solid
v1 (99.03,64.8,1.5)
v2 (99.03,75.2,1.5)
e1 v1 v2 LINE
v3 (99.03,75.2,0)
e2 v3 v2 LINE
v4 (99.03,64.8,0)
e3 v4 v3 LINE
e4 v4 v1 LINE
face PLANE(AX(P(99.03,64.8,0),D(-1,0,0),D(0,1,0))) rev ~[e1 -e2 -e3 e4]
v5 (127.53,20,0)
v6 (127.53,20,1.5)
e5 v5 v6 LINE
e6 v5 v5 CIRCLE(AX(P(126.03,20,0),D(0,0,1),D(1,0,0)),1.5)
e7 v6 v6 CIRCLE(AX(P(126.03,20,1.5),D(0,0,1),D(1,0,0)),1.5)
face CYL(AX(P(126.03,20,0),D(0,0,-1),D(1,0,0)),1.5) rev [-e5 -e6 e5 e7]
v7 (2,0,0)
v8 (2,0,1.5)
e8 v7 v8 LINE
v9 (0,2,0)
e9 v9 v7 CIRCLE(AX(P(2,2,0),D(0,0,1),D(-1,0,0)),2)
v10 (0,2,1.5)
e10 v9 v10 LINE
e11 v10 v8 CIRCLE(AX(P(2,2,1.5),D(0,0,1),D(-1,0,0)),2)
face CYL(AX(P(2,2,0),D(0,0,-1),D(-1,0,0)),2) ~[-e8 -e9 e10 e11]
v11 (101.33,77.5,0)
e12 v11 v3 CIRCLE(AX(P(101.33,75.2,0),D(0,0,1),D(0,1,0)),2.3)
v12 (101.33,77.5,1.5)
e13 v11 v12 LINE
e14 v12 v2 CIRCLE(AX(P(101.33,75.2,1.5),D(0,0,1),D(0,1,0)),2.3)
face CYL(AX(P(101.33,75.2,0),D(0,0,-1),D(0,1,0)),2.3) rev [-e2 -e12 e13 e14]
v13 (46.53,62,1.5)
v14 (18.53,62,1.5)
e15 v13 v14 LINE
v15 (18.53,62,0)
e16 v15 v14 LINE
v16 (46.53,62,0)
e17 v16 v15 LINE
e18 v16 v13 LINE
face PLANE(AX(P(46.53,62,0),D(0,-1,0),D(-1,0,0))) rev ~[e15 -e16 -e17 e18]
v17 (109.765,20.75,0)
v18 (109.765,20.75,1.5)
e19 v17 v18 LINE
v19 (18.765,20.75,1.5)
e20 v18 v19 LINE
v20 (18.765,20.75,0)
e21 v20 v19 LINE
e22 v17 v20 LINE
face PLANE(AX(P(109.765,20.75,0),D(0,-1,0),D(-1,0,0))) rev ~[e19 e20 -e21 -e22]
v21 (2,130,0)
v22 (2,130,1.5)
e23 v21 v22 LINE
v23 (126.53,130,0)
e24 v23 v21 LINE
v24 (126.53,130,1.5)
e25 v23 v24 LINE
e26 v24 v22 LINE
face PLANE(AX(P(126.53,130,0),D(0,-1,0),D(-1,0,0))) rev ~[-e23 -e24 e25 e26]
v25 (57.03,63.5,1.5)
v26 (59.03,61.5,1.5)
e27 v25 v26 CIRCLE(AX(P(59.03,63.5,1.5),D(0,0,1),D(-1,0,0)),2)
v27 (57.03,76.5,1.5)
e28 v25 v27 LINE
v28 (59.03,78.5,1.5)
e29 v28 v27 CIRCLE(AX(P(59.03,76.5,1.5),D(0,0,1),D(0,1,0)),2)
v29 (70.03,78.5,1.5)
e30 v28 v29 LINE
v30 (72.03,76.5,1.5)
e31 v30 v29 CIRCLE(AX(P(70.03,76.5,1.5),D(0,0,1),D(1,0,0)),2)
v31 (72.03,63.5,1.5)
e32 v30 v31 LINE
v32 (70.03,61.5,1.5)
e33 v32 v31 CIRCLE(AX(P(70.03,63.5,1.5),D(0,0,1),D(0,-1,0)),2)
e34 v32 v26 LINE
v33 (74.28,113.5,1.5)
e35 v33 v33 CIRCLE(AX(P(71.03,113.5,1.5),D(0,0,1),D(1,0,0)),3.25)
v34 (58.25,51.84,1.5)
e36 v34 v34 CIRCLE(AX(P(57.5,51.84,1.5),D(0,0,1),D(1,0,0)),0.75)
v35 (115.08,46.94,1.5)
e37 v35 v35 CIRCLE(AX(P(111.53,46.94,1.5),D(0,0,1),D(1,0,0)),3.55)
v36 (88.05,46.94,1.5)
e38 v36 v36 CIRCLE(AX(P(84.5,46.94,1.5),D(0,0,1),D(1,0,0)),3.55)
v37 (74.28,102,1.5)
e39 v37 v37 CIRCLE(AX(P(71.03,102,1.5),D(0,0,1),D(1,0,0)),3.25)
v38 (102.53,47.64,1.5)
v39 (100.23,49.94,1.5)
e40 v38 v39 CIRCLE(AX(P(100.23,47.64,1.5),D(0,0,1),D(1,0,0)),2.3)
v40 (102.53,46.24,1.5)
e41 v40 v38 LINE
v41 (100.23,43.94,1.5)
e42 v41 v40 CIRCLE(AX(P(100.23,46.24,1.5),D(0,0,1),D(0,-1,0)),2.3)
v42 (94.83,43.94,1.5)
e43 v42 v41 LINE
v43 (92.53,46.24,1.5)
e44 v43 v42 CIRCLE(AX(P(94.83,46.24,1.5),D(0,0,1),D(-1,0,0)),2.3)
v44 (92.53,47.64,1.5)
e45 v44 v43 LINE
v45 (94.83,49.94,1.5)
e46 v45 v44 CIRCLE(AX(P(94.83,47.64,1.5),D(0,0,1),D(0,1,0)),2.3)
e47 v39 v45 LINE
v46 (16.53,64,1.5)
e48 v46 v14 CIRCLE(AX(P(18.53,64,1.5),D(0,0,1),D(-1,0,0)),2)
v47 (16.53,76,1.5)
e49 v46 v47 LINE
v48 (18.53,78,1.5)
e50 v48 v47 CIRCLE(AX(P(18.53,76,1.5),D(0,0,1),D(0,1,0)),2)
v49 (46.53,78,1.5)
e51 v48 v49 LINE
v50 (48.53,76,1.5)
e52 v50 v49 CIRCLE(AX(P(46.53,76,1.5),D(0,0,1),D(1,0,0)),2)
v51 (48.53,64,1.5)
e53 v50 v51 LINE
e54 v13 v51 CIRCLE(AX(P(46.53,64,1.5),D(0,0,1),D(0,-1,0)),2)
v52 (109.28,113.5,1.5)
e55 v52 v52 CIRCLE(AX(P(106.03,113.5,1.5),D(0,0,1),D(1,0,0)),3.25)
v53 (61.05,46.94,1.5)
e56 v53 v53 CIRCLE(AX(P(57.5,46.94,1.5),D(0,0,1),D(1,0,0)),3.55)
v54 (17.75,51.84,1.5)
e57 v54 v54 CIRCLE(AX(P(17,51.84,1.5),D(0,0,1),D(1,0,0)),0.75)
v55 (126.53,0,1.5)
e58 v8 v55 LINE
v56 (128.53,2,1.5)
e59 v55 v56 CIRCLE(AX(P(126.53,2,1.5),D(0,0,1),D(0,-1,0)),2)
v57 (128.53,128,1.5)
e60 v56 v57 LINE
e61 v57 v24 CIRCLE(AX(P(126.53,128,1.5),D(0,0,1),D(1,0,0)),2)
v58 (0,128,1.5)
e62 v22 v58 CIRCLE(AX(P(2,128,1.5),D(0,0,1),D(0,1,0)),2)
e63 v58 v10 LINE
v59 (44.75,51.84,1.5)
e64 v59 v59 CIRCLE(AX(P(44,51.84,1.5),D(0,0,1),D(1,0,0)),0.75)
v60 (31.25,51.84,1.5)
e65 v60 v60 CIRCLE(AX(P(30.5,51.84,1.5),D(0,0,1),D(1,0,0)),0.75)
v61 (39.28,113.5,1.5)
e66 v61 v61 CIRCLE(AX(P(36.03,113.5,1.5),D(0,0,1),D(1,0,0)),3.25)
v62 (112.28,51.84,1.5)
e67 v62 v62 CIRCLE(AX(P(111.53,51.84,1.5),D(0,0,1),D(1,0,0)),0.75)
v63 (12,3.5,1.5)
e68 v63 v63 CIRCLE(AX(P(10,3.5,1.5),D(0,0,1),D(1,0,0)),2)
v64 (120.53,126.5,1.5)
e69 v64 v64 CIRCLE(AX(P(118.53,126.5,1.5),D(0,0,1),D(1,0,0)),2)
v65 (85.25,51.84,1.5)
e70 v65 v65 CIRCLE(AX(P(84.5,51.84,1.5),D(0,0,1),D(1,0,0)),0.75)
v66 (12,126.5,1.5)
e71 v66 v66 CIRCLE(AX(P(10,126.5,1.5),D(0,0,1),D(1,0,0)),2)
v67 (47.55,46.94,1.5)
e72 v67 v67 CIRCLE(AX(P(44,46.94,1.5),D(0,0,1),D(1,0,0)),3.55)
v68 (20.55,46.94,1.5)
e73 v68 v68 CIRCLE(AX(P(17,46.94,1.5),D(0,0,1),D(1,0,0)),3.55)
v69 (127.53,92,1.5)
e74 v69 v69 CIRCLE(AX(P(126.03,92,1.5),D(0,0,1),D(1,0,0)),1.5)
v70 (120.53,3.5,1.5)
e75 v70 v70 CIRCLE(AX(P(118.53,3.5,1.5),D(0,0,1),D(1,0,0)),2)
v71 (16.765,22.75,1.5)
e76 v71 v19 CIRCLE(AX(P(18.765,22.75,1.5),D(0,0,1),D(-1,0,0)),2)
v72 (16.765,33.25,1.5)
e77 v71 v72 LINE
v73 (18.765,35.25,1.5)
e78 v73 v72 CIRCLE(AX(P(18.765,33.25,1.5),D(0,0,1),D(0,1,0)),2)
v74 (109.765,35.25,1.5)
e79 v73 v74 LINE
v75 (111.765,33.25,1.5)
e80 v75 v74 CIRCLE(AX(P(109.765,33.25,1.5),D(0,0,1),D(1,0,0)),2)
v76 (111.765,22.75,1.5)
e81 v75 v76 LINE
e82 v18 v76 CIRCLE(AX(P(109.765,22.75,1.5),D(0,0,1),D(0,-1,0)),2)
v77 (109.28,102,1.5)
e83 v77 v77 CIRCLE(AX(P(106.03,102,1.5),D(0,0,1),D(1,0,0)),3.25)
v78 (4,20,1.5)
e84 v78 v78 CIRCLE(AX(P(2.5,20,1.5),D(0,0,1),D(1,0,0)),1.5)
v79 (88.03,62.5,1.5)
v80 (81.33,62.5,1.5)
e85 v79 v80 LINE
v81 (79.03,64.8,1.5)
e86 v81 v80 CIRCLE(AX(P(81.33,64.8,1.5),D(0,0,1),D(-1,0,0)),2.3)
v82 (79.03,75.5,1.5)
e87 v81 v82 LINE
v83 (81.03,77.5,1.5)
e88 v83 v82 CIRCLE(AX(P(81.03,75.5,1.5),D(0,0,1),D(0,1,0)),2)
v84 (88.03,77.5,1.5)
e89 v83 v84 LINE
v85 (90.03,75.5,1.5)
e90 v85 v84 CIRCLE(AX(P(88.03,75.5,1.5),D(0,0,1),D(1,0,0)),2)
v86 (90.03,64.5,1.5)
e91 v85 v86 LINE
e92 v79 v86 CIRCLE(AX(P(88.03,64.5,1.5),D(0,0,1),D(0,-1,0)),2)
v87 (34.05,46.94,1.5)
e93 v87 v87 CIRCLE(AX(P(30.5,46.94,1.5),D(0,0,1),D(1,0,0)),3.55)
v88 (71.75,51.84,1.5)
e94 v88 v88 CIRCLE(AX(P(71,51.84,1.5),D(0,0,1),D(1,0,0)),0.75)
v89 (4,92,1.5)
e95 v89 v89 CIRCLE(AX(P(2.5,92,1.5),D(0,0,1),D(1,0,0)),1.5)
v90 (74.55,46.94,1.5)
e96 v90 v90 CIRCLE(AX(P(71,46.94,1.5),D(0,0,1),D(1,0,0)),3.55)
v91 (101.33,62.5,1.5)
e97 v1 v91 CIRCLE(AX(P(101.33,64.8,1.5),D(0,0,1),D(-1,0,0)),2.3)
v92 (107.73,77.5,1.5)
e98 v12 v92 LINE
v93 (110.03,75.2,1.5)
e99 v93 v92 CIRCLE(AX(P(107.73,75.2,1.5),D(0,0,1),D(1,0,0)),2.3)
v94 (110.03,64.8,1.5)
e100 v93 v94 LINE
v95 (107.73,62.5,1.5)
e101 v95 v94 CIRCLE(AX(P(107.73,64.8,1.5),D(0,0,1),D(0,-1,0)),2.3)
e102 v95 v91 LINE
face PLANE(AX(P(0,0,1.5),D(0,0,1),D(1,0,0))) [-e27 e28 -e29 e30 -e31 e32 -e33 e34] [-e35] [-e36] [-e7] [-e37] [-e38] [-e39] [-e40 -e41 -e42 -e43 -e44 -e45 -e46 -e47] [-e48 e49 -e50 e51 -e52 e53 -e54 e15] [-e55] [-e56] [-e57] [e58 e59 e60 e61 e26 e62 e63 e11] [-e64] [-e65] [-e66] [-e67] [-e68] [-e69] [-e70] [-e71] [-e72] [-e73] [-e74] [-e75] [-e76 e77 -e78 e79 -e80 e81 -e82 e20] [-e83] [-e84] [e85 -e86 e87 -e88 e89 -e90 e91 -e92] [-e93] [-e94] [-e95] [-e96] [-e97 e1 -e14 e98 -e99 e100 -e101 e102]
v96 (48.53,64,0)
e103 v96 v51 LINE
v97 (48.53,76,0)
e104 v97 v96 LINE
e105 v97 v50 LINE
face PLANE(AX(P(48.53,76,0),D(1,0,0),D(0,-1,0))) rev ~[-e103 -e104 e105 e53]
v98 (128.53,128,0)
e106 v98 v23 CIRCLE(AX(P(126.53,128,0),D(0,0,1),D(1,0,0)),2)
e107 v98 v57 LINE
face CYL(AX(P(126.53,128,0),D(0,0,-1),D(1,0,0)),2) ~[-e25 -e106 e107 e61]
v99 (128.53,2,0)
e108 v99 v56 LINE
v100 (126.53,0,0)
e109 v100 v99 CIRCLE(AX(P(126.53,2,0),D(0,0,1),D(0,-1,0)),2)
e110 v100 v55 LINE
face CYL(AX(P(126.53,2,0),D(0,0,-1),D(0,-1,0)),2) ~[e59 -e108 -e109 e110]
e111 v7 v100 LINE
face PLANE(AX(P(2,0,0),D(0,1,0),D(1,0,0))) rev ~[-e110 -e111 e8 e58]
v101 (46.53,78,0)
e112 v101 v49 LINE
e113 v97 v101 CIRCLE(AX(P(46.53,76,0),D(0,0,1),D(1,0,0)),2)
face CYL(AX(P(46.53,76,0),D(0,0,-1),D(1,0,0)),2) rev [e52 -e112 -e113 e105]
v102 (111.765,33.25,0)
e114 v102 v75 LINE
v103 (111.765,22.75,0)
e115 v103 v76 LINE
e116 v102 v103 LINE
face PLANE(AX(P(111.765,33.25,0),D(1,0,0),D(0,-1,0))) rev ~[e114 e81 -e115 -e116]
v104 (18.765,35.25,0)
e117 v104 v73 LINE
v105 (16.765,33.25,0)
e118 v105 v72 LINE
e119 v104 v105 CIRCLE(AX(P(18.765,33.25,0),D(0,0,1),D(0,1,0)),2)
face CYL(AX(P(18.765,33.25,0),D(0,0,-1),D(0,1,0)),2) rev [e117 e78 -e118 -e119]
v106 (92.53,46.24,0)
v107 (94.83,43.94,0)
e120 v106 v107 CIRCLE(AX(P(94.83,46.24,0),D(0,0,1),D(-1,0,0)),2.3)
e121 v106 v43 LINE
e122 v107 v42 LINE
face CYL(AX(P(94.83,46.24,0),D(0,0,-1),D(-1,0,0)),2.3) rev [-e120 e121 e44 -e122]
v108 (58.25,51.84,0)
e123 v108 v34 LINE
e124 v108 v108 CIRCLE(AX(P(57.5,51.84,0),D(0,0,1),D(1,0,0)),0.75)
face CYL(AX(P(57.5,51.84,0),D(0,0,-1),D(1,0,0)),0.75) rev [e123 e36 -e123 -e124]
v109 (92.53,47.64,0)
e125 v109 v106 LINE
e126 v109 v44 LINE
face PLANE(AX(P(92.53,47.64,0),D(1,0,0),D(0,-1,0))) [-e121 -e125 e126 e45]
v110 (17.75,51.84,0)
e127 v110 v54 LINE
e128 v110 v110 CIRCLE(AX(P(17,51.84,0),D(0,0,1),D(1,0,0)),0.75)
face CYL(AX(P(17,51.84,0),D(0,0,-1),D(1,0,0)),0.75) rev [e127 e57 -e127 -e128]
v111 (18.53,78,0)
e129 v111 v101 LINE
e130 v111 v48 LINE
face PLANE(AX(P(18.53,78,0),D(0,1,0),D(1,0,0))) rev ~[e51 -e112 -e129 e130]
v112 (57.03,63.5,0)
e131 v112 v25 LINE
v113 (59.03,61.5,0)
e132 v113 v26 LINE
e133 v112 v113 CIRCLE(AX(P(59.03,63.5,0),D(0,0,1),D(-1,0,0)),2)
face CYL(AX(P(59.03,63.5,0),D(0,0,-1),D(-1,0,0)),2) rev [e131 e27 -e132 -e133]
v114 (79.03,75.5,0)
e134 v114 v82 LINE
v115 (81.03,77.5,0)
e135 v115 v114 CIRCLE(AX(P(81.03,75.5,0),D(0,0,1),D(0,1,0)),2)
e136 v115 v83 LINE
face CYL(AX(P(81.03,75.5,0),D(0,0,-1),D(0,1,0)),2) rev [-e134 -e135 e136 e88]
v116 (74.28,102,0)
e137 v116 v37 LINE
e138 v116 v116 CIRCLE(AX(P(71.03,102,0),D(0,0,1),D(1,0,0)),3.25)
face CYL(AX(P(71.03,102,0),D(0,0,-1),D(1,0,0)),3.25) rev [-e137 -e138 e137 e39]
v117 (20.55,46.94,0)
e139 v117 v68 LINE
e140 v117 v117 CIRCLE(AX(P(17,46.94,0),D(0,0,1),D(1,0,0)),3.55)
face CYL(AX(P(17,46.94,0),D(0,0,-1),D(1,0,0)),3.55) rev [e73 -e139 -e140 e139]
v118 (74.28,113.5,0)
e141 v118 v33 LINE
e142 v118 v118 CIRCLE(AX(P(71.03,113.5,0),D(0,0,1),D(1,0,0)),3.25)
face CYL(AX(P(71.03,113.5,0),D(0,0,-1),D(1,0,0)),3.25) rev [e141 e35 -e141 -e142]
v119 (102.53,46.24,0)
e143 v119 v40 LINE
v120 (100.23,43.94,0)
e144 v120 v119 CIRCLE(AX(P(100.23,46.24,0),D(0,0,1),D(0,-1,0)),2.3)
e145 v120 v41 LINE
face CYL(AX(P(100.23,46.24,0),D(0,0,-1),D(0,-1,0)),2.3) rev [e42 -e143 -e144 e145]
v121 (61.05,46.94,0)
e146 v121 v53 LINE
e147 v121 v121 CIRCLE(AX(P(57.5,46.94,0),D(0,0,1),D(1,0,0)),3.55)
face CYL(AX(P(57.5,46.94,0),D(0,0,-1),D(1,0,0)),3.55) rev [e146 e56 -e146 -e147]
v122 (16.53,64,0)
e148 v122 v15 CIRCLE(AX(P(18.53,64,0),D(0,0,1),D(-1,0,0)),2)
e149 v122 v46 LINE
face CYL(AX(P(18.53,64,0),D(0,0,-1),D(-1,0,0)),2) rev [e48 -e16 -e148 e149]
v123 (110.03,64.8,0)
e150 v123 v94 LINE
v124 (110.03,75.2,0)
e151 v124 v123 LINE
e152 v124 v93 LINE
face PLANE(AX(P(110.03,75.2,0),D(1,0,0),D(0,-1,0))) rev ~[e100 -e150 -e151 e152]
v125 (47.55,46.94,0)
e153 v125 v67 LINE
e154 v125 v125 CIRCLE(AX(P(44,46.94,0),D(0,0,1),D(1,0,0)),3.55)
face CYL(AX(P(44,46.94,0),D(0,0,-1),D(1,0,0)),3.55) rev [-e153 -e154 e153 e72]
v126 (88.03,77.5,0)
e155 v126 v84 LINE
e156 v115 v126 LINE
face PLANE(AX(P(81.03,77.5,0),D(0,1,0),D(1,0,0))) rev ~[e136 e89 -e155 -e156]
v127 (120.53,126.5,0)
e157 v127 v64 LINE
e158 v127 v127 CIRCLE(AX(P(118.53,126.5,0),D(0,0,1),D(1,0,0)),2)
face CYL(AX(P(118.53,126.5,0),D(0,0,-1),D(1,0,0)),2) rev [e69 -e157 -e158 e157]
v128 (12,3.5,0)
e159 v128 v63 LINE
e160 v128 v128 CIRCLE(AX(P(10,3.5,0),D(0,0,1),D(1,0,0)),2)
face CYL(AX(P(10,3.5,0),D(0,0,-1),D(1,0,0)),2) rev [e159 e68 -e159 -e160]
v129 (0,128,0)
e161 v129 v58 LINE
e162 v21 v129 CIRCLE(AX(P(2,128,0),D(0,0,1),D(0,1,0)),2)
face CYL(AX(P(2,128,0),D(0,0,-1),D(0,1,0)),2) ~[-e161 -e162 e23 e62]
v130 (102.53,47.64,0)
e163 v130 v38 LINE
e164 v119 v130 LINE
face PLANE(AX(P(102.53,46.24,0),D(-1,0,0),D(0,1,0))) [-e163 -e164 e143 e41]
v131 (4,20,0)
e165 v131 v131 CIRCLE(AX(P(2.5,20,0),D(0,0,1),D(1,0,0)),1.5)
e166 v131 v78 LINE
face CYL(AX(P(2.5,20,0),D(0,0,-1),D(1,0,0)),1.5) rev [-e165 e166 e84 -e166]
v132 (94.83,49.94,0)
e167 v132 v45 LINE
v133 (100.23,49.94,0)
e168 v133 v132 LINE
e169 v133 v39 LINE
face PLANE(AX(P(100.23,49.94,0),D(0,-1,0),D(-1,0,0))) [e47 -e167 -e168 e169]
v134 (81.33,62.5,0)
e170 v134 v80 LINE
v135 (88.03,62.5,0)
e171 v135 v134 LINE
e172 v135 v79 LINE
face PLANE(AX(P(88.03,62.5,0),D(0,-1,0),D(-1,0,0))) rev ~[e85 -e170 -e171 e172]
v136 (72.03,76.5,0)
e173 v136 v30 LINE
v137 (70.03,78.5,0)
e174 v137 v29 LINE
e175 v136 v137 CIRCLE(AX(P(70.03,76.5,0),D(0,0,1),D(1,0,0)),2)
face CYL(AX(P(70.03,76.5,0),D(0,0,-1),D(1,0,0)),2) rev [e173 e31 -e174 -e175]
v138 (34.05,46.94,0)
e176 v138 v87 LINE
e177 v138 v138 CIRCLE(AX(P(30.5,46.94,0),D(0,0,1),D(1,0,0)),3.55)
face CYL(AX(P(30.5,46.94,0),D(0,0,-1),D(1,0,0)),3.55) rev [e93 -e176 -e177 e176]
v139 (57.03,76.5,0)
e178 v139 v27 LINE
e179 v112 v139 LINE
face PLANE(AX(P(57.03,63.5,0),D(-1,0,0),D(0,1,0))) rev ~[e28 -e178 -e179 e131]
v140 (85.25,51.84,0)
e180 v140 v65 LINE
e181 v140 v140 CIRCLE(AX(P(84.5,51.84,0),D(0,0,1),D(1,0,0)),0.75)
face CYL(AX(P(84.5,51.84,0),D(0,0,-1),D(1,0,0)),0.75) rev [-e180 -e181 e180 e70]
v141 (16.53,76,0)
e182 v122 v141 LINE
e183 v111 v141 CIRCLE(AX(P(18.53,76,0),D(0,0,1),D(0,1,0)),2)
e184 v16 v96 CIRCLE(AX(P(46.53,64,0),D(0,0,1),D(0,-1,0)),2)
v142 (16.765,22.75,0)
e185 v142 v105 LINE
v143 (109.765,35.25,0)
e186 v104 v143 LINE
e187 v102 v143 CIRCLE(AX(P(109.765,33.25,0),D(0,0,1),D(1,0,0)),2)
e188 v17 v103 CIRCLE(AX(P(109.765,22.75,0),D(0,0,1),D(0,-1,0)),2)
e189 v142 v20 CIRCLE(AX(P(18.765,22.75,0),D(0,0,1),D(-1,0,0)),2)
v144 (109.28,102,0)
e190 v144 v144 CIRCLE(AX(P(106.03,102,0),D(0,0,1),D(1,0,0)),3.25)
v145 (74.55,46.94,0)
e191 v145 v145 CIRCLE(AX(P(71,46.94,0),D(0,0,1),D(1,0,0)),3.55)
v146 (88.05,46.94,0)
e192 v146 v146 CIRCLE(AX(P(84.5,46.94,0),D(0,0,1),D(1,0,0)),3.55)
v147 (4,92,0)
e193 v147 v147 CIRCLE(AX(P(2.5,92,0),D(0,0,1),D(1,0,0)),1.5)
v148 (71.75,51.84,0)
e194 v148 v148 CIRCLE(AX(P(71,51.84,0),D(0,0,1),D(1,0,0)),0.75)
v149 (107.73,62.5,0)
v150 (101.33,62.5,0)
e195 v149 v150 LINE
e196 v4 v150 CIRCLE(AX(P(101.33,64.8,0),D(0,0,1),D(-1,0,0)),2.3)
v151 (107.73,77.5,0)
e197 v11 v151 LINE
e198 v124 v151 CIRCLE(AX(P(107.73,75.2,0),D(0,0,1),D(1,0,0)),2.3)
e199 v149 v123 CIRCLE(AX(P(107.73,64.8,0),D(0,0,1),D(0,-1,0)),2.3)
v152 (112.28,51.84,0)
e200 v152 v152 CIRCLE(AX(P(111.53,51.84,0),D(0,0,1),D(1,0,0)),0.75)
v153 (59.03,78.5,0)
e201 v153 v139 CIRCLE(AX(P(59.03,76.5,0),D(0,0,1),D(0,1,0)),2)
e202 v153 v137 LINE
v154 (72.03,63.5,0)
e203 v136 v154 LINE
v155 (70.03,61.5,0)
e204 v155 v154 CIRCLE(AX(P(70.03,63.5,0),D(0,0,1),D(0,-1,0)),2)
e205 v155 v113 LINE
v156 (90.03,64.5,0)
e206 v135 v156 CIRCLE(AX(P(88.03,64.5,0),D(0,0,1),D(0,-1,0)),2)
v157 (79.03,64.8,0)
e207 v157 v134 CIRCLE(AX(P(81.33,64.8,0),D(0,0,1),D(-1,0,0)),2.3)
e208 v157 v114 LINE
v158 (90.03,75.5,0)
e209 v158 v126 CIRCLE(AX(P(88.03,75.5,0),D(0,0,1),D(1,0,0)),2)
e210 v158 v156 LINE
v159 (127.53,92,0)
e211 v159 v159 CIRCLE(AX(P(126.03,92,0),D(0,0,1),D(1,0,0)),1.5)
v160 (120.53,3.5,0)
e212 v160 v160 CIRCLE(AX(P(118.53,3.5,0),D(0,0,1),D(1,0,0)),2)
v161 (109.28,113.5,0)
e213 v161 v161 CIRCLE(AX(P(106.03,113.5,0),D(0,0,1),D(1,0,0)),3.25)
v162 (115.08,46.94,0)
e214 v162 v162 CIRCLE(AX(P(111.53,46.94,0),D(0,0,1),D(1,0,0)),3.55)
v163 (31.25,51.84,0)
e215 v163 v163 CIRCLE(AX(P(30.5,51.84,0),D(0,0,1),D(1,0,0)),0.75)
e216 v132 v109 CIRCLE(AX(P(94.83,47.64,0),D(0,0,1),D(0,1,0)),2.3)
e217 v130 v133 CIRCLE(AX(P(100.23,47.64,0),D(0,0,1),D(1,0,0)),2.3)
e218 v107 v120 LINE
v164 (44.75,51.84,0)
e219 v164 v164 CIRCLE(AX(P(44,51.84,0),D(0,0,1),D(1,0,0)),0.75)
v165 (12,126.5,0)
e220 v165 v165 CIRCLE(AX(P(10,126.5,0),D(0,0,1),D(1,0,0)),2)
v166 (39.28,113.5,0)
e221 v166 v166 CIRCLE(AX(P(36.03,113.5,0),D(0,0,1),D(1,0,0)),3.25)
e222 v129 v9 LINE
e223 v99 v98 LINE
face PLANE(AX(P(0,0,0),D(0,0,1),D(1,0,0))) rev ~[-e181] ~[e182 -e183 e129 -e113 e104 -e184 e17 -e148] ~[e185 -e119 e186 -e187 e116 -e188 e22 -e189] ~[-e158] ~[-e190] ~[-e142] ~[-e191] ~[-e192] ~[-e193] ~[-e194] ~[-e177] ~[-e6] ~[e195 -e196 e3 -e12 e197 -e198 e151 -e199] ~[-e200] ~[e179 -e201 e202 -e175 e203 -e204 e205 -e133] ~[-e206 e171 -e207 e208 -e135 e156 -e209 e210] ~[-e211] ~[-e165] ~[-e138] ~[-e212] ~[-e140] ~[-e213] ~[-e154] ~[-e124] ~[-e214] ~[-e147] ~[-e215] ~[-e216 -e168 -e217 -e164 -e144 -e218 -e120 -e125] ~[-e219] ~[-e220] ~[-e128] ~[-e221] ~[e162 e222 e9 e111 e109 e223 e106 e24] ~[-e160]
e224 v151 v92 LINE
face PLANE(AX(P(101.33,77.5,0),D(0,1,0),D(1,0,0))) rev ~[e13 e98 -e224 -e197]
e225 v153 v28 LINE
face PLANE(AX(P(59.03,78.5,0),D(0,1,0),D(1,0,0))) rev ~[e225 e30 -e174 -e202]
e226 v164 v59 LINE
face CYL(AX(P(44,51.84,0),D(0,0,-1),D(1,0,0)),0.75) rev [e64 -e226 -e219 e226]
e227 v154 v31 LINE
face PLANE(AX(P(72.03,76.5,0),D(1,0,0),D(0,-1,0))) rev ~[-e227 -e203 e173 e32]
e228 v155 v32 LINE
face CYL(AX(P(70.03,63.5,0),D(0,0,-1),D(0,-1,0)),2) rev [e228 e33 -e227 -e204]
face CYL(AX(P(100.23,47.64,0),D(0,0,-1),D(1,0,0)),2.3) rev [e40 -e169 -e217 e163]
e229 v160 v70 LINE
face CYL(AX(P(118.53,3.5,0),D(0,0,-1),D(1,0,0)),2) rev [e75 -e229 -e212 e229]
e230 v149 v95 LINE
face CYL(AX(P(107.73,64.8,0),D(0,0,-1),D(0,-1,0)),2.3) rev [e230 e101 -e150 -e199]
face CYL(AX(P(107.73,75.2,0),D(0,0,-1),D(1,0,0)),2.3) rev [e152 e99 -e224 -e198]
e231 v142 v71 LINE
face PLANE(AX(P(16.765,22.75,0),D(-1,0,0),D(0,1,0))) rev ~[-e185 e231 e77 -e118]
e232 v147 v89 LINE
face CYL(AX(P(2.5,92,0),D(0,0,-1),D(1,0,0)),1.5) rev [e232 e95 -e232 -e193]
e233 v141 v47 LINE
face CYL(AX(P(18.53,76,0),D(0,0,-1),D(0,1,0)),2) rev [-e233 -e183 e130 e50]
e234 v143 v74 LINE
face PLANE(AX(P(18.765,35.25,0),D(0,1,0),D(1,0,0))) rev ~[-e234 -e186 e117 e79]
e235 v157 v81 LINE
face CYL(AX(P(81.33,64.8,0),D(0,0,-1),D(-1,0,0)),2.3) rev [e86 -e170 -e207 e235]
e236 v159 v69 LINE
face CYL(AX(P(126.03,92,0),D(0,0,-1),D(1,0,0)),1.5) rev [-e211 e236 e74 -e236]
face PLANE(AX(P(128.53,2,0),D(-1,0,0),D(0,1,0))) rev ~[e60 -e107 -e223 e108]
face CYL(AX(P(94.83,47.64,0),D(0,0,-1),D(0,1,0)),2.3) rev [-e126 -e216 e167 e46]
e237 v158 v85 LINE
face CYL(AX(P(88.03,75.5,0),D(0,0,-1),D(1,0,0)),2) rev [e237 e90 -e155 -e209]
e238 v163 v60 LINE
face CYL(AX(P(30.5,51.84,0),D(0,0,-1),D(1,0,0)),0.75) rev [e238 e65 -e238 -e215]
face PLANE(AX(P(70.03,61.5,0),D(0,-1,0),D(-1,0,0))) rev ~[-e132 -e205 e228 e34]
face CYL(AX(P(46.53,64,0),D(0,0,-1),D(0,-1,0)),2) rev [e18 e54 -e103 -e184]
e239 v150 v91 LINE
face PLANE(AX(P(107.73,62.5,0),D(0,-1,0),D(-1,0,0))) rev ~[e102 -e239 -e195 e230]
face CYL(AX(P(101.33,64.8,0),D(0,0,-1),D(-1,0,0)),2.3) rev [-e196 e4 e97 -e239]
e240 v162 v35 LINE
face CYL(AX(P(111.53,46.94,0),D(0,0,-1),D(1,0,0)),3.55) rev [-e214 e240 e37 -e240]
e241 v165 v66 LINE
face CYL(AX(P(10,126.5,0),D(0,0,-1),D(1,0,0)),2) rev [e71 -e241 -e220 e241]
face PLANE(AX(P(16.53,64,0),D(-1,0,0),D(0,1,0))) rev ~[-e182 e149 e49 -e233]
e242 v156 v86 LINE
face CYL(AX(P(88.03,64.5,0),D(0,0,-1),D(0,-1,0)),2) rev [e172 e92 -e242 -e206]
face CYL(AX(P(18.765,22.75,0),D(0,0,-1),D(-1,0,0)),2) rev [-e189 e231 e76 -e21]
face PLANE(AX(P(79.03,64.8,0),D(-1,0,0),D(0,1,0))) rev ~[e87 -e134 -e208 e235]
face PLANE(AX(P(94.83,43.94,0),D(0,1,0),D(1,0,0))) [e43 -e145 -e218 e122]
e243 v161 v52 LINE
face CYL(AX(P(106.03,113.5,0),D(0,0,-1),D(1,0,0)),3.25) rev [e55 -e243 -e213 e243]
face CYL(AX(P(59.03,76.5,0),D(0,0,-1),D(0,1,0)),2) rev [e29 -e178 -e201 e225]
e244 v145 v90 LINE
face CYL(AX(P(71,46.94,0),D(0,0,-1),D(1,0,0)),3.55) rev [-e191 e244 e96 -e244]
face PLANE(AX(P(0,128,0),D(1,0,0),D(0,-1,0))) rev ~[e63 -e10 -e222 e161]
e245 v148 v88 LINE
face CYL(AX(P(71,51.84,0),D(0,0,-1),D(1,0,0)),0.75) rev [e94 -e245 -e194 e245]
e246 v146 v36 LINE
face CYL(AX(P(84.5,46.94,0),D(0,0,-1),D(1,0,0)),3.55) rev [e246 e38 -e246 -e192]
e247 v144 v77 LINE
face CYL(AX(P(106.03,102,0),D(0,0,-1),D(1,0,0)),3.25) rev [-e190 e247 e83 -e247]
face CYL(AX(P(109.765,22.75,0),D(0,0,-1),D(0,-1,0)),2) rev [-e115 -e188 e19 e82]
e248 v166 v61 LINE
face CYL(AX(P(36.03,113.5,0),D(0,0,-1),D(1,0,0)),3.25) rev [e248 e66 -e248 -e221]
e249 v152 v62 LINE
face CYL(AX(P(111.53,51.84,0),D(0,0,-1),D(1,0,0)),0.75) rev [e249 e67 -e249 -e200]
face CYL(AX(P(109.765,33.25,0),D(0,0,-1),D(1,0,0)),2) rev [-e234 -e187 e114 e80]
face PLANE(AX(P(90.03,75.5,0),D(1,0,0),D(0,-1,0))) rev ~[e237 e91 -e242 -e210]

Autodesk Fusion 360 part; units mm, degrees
sketch "Sketch1" plane through (0, 0, 0) normal (0, 0, 1) x (1, 0, 0)
  line L0 (2, 0) -> (126.53, 0)
  line L1 (128.53, 2) -> (128.53, 128)
  line L2 (126.53, 130) -> (2, 130)
  line L3 (0, 128) -> (0, 2)
  line L4 (0, 70) -> (128.53, 70) construction
  line L5 (0, 46.94) -> (128.53, 46.94) construction
  line L6 (0, 92) -> (128.53, 92) construction
  line L7 (0, 20) -> (128.53, 20) construction
  line L8 (2.5, 130) -> (2.5, 0) construction
  line L9 (126.03, 130) -> (126.03, 0) construction
  circle A0 centre (71, 46.94) radius 3.55
  circle A1 centre (17, 46.94) radius 3.55
  circle A2 centre (84.5, 46.94) radius 3.55
  circle A3 centre (30.5, 46.94) radius 3.55
  circle A4 centre (111.53, 46.94) radius 3.55
  circle A5 centre (44, 46.94) radius 3.55
  circle A6 centre (57.5, 46.94) radius 3.55
  circle A7 centre (126.03, 92) radius 1.5
  circle A8 centre (2.5, 92) radius 1.5
  circle A9 centre (2.5, 20) radius 1.5
  circle A10 centre (126.03, 20) radius 1.5
  line L10 (107.73, 62.5) -> (101.33, 62.5)
  line L11 (99.03, 64.8) -> (99.03, 75.2)
  line L12 (101.33, 77.5) -> (107.73, 77.5)
  line L13 (110.03, 75.2) -> (110.03, 64.8)
  line L14 (110.03, 62.5) -> (99.03, 77.5) construction
  line L15 (99.03, 62.5) -> (110.03, 77.5) construction
  line L16 (88.03, 62.5) -> (81.33, 62.5)
  line L17 (79.03, 64.8) -> (79.03, 75.5)
  line L18 (81.03, 77.5) -> (88.03, 77.5)
  line L19 (90.03, 75.5) -> (90.03, 64.5)
  line L20 (90.03, 62.5) -> (79.03, 77.5) construction
  line L21 (79.03, 62.5) -> (90.03, 77.5) construction
  line L22 (70.03, 61.5) -> (59.03, 61.5)
  line L23 (57.03, 63.5) -> (57.03, 76.5)
  line L24 (59.03, 78.5) -> (70.03, 78.5)
  line L25 (72.03, 76.5) -> (72.03, 63.5)
  line L26 (72.03, 61.5) -> (57.03, 78.5) construction
  line L27 (57.03, 61.5) -> (72.03, 78.5) construction
  line L28 (46.53, 62) -> (18.53, 62)
  line L29 (16.53, 64) -> (16.53, 76)
  line L30 (18.53, 78) -> (46.53, 78)
  line L31 (48.53, 76) -> (48.53, 64)
  line L32 (48.53, 62) -> (16.53, 78) construction
  line L33 (16.53, 62) -> (48.53, 78) construction
  line L34 (100.23, 49.94) -> (94.83, 49.94)
  line L35 (92.53, 47.64) -> (92.53, 46.24)
  line L36 (94.83, 43.94) -> (100.23, 43.94)
  line L37 (102.53, 46.24) -> (102.53, 47.64)
  line L38 (102.53, 49.94) -> (92.53, 43.94) construction
  line L39 (92.53, 49.94) -> (102.53, 43.94) construction
  arc A11 (2, 130) -> (0, 128) centre (2, 128) ccw
  arc A12 (128.53, 128) -> (126.53, 130) centre (126.53, 128) ccw
  arc A13 (126.53, 0) -> (128.53, 2) centre (126.53, 2) ccw
  arc A14 (0, 2) -> (2, 0) centre (2, 2) ccw
  arc A15 (18.53, 78) -> (16.53, 76) centre (18.53, 76) ccw
  arc A16 (46.53, 62) -> (48.53, 64) centre (46.53, 64) ccw
  arc A17 (16.53, 64) -> (18.53, 62) centre (18.53, 64) ccw
  arc A18 (48.53, 76) -> (46.53, 78) centre (46.53, 76) ccw
  arc A19 (59.03, 78.5) -> (57.03, 76.5) centre (59.03, 76.5) ccw
  arc A20 (72.03, 76.5) -> (70.03, 78.5) centre (70.03, 76.5) ccw
  arc A21 (70.03, 61.5) -> (72.03, 63.5) centre (70.03, 63.5) ccw
  arc A22 (57.03, 63.5) -> (59.03, 61.5) centre (59.03, 63.5) ccw
  arc A23 (81.03, 77.5) -> (79.03, 75.5) centre (81.03, 75.5) ccw
  arc A24 (90.03, 75.5) -> (88.03, 77.5) centre (88.03, 75.5) ccw
  arc A25 (88.03, 62.5) -> (90.03, 64.5) centre (88.03, 64.5) ccw
  arc A26 (79.03, 64.8) -> (81.33, 62.5) centre (81.33, 64.8) ccw
  arc A27 (101.33, 77.5) -> (99.03, 75.2) centre (101.33, 75.2) ccw
  arc A28 (110.03, 75.2) -> (107.73, 77.5) centre (107.73, 75.2) ccw
  arc A29 (107.73, 62.5) -> (110.03, 64.8) centre (107.73, 64.8) ccw
  arc A30 (99.03, 64.8) -> (101.33, 62.5) centre (101.33, 64.8) ccw
  arc A31 (94.83, 49.94) -> (92.53, 47.64) centre (94.83, 47.64) ccw
  arc A32 (102.53, 47.64) -> (100.23, 49.94) centre (100.23, 47.64) ccw
  arc A33 (92.53, 46.24) -> (94.83, 43.94) centre (94.83, 46.24) ccw
  arc A34 (100.23, 43.94) -> (102.53, 46.24) centre (100.23, 46.24) ccw
  line L40 (0, 126.5) -> (128.53, 126.5) construction
  line L41 (0, 3.5) -> (128.53, 3.5) construction
  line L42 (118.53, 130) -> (118.53, 0) construction
  line L43 (10, 130) -> (10, 0) construction
  circle A35 centre (10, 126.5) radius 2
  circle A36 centre (118.53, 126.5) radius 2
  circle A37 centre (10, 3.5) radius 2
  circle A38 centre (118.53, 3.5) radius 2
  line L44 (0, 28) -> (128.53, 28) construction
  line L45 (109.765, 20.75) -> (18.765, 20.75)
  line L46 (16.765, 22.75) -> (16.765, 33.25)
  line L47 (18.765, 35.25) -> (109.765, 35.25)
  line L48 (111.765, 33.25) -> (111.765, 22.75)
  line L49 (111.765, 20.75) -> (16.765, 35.25) construction
  line L50 (16.765, 20.75) -> (111.765, 35.25) construction
  arc A39 (18.765, 35.25) -> (16.765, 33.25) centre (18.765, 33.25) ccw
  arc A40 (111.765, 33.25) -> (109.765, 35.25) centre (109.765, 33.25) ccw
  arc A41 (16.765, 22.75) -> (18.765, 20.75) centre (18.765, 22.75) ccw
  arc A42 (109.765, 20.75) -> (111.765, 22.75) centre (109.765, 22.75) ccw
  line L51 (0, 113.5) -> (128.53, 113.5) construction
  line L52 (0, 102) -> (128.53, 102) construction
  circle A43 centre (106.03, 113.5) radius 3.25
  circle A44 centre (106.03, 102) radius 3.25
  circle A45 centre (71.03, 113.5) radius 3.25
  circle A46 centre (71.03, 102) radius 3.25
  circle A47 centre (36.03, 113.5) radius 3.25
  line L53 (0, 51.84) -> (128.53, 51.84) construction
  circle A48 centre (17, 51.84) radius 0.75
  circle A49 centre (30.5, 51.84) radius 0.75
  circle A50 centre (44, 51.84) radius 0.75
  circle A51 centre (57.5, 51.84) radius 0.75
  circle A52 centre (71, 51.84) radius 0.75
  circle A53 centre (84.5, 51.84) radius 0.75
  circle A54 centre (111.53, 51.84) radius 0.75
  point P0 (128.53, 0)
  point P1 (0, 130)
  point P2 (104.53, 70)
  point P3 (84.53, 70)
  point P4 (64.53, 70)
  point P5 (32.53, 70)
  point P6 (97.53, 46.94)
  point P7 (64.265, 28)
  dimension "d1" = 128.53
  dimension "d2" = 130
  dimension "d4" = 2.5
  dimension "d5" = 2.5
  dimension "d7" = 60
  dimension "d25" = 7.1
  dimension "d26" = 7.1
  dimension "d27" = 7.1
  dimension "d28" = 7.1
  dimension "d29" = 7.1
  dimension "d30" = 7.1
  dimension "d31" = 7.1
  dimension "d32" = 17
  dimension "d33" = 13.5
  dimension "d34" = 13.5
  dimension "d35" = 13.5
  dimension "d36" = 13.5
  dimension "d37" = 13.5
  dimension "d38" = 17
  dimension "d42" = 3
  dimension "d43" = 3
  dimension "d44" = 3
  dimension "d45" = 3
  dimension "d49" = 72
  dimension "d54" = 23.06
  dimension "d55" = 22
  dimension "d56" = 11
  dimension "d57" = 15
  dimension "d58" = 24
  dimension "d59" = 11
  dimension "d60" = 15
  dimension "d61" = 20
  dimension "d62" = 15
  dimension "d63" = 17
  dimension "d64" = 20
  dimension "d65" = 32
  dimension "d66" = 16
  dimension "d67" = 32
  dimension "d68" = 10
  dimension "d69" = 6
  dimension "d70" = 14
  dimension "d75" = 2
  dimension "d76" = 2
  dimension "d77" = 2
  dimension "d78" = 2
  dimension "d79" = 2
  dimension "d80" = 2
  dimension "d81" = 2
  dimension "d82" = 2
  dimension "d83" = 2
  dimension "d84" = 2
  dimension "d85" = 2.3
  dimension "d86" = 123
  dimension "d87" = 3.5
  dimension "d89" = 4
  dimension "d90" = 4
  dimension "d91" = 4
  dimension "d92" = 4
  dimension "d93" = 10
  dimension "d94" = 10
  dimension "d99" = 42
  dimension "d100" = 95
  dimension "d101" = 14.5
  dimension "d102" = 2
  dimension "d103" = 2
  dimension "d104" = 2
  dimension "d105" = 2
  dimension "d106" = 32
  dimension "d107" = 11.5
  dimension "d110" = 6.5
  dimension "d111" = 6.5
  dimension "d112" = 6.5
  dimension "d113" = 6.5
  dimension "d117" = 35
  dimension "d118" = 20
  dimension "d121" = 6.5
  dimension "d122" = 35
  dimension "d123" = 4.9
  dimension "d126" = 1.5
  dimension "d127" = 17
  dimension "d128" = 1.5
  dimension "d129" = 1.5
  dimension "d130" = 1.5
  dimension "d131" = 1.5
  dimension "d132" = 1.5
  dimension "d133" = 1.5
  dimension "d134" = 17
  dimension "d135" = 13.5
  dimension "d136" = 13.5
  dimension "d137" = 13.5
  dimension "d138" = 13.5
  dimension "d139" = 13.5
extrude "Extrude5" add sketch "Sketch1" along normal blind 1.5
equation "d7 = Offset_from_top"
equation "d25 = button_size"
equation "d26 = button_size"
equation "d27 = button_size"
equation "d28 = button_size"
equation "d29 = button_size"
equation "d30 = button_size"
equation "d31 = button_size"
equation "d33 = button_spacing"
equation "d34 = button_spacing"
equation "d35 = button_spacing"
equation "d36 = button_spacing"
equation "d37 = button_spacing"
equation "d42 = mount_hole"
equation "d43 = mount_hole"
equation "d44 = mount_hole"
equation "d45 = mount_hole"
equation "button_spacing = 13.5 mm"
equation "button_size = 7.1 mm"
equation "euro_screw_hole = 4 mm"
equation "d89 = euro_screw_hole"
equation "d90 = euro_screw_hole"
equation "d91 = euro_screw_hole"
equation "d92 = euro_screw_hole"
equation "mount_hole = 3 mm"
equation "Offset_from_top = 60 mm"
equation "audio_jack_hole = 6.5 mm"
equation "d110 = audio_jack_hole"
equation "d111 = audio_jack_hole"
equation "d112 = audio_jack_hole"
equation "d113 = audio_jack_hole"
equation "d121 = audio_jack_hole"
equation "led = 1.5 mm"
equation "d126 = led"
equation "d128 = led"
equation "d129 = led"
equation "d130 = led"
equation "d131 = led"
equation "d132 = led"
equation "d133 = led"
equation "d135 = button_spacing"
equation "d136 = button_spacing"
equation "d137 = button_spacing"
equation "d138 = button_spacing"
equation "d139 = button_spacing"
